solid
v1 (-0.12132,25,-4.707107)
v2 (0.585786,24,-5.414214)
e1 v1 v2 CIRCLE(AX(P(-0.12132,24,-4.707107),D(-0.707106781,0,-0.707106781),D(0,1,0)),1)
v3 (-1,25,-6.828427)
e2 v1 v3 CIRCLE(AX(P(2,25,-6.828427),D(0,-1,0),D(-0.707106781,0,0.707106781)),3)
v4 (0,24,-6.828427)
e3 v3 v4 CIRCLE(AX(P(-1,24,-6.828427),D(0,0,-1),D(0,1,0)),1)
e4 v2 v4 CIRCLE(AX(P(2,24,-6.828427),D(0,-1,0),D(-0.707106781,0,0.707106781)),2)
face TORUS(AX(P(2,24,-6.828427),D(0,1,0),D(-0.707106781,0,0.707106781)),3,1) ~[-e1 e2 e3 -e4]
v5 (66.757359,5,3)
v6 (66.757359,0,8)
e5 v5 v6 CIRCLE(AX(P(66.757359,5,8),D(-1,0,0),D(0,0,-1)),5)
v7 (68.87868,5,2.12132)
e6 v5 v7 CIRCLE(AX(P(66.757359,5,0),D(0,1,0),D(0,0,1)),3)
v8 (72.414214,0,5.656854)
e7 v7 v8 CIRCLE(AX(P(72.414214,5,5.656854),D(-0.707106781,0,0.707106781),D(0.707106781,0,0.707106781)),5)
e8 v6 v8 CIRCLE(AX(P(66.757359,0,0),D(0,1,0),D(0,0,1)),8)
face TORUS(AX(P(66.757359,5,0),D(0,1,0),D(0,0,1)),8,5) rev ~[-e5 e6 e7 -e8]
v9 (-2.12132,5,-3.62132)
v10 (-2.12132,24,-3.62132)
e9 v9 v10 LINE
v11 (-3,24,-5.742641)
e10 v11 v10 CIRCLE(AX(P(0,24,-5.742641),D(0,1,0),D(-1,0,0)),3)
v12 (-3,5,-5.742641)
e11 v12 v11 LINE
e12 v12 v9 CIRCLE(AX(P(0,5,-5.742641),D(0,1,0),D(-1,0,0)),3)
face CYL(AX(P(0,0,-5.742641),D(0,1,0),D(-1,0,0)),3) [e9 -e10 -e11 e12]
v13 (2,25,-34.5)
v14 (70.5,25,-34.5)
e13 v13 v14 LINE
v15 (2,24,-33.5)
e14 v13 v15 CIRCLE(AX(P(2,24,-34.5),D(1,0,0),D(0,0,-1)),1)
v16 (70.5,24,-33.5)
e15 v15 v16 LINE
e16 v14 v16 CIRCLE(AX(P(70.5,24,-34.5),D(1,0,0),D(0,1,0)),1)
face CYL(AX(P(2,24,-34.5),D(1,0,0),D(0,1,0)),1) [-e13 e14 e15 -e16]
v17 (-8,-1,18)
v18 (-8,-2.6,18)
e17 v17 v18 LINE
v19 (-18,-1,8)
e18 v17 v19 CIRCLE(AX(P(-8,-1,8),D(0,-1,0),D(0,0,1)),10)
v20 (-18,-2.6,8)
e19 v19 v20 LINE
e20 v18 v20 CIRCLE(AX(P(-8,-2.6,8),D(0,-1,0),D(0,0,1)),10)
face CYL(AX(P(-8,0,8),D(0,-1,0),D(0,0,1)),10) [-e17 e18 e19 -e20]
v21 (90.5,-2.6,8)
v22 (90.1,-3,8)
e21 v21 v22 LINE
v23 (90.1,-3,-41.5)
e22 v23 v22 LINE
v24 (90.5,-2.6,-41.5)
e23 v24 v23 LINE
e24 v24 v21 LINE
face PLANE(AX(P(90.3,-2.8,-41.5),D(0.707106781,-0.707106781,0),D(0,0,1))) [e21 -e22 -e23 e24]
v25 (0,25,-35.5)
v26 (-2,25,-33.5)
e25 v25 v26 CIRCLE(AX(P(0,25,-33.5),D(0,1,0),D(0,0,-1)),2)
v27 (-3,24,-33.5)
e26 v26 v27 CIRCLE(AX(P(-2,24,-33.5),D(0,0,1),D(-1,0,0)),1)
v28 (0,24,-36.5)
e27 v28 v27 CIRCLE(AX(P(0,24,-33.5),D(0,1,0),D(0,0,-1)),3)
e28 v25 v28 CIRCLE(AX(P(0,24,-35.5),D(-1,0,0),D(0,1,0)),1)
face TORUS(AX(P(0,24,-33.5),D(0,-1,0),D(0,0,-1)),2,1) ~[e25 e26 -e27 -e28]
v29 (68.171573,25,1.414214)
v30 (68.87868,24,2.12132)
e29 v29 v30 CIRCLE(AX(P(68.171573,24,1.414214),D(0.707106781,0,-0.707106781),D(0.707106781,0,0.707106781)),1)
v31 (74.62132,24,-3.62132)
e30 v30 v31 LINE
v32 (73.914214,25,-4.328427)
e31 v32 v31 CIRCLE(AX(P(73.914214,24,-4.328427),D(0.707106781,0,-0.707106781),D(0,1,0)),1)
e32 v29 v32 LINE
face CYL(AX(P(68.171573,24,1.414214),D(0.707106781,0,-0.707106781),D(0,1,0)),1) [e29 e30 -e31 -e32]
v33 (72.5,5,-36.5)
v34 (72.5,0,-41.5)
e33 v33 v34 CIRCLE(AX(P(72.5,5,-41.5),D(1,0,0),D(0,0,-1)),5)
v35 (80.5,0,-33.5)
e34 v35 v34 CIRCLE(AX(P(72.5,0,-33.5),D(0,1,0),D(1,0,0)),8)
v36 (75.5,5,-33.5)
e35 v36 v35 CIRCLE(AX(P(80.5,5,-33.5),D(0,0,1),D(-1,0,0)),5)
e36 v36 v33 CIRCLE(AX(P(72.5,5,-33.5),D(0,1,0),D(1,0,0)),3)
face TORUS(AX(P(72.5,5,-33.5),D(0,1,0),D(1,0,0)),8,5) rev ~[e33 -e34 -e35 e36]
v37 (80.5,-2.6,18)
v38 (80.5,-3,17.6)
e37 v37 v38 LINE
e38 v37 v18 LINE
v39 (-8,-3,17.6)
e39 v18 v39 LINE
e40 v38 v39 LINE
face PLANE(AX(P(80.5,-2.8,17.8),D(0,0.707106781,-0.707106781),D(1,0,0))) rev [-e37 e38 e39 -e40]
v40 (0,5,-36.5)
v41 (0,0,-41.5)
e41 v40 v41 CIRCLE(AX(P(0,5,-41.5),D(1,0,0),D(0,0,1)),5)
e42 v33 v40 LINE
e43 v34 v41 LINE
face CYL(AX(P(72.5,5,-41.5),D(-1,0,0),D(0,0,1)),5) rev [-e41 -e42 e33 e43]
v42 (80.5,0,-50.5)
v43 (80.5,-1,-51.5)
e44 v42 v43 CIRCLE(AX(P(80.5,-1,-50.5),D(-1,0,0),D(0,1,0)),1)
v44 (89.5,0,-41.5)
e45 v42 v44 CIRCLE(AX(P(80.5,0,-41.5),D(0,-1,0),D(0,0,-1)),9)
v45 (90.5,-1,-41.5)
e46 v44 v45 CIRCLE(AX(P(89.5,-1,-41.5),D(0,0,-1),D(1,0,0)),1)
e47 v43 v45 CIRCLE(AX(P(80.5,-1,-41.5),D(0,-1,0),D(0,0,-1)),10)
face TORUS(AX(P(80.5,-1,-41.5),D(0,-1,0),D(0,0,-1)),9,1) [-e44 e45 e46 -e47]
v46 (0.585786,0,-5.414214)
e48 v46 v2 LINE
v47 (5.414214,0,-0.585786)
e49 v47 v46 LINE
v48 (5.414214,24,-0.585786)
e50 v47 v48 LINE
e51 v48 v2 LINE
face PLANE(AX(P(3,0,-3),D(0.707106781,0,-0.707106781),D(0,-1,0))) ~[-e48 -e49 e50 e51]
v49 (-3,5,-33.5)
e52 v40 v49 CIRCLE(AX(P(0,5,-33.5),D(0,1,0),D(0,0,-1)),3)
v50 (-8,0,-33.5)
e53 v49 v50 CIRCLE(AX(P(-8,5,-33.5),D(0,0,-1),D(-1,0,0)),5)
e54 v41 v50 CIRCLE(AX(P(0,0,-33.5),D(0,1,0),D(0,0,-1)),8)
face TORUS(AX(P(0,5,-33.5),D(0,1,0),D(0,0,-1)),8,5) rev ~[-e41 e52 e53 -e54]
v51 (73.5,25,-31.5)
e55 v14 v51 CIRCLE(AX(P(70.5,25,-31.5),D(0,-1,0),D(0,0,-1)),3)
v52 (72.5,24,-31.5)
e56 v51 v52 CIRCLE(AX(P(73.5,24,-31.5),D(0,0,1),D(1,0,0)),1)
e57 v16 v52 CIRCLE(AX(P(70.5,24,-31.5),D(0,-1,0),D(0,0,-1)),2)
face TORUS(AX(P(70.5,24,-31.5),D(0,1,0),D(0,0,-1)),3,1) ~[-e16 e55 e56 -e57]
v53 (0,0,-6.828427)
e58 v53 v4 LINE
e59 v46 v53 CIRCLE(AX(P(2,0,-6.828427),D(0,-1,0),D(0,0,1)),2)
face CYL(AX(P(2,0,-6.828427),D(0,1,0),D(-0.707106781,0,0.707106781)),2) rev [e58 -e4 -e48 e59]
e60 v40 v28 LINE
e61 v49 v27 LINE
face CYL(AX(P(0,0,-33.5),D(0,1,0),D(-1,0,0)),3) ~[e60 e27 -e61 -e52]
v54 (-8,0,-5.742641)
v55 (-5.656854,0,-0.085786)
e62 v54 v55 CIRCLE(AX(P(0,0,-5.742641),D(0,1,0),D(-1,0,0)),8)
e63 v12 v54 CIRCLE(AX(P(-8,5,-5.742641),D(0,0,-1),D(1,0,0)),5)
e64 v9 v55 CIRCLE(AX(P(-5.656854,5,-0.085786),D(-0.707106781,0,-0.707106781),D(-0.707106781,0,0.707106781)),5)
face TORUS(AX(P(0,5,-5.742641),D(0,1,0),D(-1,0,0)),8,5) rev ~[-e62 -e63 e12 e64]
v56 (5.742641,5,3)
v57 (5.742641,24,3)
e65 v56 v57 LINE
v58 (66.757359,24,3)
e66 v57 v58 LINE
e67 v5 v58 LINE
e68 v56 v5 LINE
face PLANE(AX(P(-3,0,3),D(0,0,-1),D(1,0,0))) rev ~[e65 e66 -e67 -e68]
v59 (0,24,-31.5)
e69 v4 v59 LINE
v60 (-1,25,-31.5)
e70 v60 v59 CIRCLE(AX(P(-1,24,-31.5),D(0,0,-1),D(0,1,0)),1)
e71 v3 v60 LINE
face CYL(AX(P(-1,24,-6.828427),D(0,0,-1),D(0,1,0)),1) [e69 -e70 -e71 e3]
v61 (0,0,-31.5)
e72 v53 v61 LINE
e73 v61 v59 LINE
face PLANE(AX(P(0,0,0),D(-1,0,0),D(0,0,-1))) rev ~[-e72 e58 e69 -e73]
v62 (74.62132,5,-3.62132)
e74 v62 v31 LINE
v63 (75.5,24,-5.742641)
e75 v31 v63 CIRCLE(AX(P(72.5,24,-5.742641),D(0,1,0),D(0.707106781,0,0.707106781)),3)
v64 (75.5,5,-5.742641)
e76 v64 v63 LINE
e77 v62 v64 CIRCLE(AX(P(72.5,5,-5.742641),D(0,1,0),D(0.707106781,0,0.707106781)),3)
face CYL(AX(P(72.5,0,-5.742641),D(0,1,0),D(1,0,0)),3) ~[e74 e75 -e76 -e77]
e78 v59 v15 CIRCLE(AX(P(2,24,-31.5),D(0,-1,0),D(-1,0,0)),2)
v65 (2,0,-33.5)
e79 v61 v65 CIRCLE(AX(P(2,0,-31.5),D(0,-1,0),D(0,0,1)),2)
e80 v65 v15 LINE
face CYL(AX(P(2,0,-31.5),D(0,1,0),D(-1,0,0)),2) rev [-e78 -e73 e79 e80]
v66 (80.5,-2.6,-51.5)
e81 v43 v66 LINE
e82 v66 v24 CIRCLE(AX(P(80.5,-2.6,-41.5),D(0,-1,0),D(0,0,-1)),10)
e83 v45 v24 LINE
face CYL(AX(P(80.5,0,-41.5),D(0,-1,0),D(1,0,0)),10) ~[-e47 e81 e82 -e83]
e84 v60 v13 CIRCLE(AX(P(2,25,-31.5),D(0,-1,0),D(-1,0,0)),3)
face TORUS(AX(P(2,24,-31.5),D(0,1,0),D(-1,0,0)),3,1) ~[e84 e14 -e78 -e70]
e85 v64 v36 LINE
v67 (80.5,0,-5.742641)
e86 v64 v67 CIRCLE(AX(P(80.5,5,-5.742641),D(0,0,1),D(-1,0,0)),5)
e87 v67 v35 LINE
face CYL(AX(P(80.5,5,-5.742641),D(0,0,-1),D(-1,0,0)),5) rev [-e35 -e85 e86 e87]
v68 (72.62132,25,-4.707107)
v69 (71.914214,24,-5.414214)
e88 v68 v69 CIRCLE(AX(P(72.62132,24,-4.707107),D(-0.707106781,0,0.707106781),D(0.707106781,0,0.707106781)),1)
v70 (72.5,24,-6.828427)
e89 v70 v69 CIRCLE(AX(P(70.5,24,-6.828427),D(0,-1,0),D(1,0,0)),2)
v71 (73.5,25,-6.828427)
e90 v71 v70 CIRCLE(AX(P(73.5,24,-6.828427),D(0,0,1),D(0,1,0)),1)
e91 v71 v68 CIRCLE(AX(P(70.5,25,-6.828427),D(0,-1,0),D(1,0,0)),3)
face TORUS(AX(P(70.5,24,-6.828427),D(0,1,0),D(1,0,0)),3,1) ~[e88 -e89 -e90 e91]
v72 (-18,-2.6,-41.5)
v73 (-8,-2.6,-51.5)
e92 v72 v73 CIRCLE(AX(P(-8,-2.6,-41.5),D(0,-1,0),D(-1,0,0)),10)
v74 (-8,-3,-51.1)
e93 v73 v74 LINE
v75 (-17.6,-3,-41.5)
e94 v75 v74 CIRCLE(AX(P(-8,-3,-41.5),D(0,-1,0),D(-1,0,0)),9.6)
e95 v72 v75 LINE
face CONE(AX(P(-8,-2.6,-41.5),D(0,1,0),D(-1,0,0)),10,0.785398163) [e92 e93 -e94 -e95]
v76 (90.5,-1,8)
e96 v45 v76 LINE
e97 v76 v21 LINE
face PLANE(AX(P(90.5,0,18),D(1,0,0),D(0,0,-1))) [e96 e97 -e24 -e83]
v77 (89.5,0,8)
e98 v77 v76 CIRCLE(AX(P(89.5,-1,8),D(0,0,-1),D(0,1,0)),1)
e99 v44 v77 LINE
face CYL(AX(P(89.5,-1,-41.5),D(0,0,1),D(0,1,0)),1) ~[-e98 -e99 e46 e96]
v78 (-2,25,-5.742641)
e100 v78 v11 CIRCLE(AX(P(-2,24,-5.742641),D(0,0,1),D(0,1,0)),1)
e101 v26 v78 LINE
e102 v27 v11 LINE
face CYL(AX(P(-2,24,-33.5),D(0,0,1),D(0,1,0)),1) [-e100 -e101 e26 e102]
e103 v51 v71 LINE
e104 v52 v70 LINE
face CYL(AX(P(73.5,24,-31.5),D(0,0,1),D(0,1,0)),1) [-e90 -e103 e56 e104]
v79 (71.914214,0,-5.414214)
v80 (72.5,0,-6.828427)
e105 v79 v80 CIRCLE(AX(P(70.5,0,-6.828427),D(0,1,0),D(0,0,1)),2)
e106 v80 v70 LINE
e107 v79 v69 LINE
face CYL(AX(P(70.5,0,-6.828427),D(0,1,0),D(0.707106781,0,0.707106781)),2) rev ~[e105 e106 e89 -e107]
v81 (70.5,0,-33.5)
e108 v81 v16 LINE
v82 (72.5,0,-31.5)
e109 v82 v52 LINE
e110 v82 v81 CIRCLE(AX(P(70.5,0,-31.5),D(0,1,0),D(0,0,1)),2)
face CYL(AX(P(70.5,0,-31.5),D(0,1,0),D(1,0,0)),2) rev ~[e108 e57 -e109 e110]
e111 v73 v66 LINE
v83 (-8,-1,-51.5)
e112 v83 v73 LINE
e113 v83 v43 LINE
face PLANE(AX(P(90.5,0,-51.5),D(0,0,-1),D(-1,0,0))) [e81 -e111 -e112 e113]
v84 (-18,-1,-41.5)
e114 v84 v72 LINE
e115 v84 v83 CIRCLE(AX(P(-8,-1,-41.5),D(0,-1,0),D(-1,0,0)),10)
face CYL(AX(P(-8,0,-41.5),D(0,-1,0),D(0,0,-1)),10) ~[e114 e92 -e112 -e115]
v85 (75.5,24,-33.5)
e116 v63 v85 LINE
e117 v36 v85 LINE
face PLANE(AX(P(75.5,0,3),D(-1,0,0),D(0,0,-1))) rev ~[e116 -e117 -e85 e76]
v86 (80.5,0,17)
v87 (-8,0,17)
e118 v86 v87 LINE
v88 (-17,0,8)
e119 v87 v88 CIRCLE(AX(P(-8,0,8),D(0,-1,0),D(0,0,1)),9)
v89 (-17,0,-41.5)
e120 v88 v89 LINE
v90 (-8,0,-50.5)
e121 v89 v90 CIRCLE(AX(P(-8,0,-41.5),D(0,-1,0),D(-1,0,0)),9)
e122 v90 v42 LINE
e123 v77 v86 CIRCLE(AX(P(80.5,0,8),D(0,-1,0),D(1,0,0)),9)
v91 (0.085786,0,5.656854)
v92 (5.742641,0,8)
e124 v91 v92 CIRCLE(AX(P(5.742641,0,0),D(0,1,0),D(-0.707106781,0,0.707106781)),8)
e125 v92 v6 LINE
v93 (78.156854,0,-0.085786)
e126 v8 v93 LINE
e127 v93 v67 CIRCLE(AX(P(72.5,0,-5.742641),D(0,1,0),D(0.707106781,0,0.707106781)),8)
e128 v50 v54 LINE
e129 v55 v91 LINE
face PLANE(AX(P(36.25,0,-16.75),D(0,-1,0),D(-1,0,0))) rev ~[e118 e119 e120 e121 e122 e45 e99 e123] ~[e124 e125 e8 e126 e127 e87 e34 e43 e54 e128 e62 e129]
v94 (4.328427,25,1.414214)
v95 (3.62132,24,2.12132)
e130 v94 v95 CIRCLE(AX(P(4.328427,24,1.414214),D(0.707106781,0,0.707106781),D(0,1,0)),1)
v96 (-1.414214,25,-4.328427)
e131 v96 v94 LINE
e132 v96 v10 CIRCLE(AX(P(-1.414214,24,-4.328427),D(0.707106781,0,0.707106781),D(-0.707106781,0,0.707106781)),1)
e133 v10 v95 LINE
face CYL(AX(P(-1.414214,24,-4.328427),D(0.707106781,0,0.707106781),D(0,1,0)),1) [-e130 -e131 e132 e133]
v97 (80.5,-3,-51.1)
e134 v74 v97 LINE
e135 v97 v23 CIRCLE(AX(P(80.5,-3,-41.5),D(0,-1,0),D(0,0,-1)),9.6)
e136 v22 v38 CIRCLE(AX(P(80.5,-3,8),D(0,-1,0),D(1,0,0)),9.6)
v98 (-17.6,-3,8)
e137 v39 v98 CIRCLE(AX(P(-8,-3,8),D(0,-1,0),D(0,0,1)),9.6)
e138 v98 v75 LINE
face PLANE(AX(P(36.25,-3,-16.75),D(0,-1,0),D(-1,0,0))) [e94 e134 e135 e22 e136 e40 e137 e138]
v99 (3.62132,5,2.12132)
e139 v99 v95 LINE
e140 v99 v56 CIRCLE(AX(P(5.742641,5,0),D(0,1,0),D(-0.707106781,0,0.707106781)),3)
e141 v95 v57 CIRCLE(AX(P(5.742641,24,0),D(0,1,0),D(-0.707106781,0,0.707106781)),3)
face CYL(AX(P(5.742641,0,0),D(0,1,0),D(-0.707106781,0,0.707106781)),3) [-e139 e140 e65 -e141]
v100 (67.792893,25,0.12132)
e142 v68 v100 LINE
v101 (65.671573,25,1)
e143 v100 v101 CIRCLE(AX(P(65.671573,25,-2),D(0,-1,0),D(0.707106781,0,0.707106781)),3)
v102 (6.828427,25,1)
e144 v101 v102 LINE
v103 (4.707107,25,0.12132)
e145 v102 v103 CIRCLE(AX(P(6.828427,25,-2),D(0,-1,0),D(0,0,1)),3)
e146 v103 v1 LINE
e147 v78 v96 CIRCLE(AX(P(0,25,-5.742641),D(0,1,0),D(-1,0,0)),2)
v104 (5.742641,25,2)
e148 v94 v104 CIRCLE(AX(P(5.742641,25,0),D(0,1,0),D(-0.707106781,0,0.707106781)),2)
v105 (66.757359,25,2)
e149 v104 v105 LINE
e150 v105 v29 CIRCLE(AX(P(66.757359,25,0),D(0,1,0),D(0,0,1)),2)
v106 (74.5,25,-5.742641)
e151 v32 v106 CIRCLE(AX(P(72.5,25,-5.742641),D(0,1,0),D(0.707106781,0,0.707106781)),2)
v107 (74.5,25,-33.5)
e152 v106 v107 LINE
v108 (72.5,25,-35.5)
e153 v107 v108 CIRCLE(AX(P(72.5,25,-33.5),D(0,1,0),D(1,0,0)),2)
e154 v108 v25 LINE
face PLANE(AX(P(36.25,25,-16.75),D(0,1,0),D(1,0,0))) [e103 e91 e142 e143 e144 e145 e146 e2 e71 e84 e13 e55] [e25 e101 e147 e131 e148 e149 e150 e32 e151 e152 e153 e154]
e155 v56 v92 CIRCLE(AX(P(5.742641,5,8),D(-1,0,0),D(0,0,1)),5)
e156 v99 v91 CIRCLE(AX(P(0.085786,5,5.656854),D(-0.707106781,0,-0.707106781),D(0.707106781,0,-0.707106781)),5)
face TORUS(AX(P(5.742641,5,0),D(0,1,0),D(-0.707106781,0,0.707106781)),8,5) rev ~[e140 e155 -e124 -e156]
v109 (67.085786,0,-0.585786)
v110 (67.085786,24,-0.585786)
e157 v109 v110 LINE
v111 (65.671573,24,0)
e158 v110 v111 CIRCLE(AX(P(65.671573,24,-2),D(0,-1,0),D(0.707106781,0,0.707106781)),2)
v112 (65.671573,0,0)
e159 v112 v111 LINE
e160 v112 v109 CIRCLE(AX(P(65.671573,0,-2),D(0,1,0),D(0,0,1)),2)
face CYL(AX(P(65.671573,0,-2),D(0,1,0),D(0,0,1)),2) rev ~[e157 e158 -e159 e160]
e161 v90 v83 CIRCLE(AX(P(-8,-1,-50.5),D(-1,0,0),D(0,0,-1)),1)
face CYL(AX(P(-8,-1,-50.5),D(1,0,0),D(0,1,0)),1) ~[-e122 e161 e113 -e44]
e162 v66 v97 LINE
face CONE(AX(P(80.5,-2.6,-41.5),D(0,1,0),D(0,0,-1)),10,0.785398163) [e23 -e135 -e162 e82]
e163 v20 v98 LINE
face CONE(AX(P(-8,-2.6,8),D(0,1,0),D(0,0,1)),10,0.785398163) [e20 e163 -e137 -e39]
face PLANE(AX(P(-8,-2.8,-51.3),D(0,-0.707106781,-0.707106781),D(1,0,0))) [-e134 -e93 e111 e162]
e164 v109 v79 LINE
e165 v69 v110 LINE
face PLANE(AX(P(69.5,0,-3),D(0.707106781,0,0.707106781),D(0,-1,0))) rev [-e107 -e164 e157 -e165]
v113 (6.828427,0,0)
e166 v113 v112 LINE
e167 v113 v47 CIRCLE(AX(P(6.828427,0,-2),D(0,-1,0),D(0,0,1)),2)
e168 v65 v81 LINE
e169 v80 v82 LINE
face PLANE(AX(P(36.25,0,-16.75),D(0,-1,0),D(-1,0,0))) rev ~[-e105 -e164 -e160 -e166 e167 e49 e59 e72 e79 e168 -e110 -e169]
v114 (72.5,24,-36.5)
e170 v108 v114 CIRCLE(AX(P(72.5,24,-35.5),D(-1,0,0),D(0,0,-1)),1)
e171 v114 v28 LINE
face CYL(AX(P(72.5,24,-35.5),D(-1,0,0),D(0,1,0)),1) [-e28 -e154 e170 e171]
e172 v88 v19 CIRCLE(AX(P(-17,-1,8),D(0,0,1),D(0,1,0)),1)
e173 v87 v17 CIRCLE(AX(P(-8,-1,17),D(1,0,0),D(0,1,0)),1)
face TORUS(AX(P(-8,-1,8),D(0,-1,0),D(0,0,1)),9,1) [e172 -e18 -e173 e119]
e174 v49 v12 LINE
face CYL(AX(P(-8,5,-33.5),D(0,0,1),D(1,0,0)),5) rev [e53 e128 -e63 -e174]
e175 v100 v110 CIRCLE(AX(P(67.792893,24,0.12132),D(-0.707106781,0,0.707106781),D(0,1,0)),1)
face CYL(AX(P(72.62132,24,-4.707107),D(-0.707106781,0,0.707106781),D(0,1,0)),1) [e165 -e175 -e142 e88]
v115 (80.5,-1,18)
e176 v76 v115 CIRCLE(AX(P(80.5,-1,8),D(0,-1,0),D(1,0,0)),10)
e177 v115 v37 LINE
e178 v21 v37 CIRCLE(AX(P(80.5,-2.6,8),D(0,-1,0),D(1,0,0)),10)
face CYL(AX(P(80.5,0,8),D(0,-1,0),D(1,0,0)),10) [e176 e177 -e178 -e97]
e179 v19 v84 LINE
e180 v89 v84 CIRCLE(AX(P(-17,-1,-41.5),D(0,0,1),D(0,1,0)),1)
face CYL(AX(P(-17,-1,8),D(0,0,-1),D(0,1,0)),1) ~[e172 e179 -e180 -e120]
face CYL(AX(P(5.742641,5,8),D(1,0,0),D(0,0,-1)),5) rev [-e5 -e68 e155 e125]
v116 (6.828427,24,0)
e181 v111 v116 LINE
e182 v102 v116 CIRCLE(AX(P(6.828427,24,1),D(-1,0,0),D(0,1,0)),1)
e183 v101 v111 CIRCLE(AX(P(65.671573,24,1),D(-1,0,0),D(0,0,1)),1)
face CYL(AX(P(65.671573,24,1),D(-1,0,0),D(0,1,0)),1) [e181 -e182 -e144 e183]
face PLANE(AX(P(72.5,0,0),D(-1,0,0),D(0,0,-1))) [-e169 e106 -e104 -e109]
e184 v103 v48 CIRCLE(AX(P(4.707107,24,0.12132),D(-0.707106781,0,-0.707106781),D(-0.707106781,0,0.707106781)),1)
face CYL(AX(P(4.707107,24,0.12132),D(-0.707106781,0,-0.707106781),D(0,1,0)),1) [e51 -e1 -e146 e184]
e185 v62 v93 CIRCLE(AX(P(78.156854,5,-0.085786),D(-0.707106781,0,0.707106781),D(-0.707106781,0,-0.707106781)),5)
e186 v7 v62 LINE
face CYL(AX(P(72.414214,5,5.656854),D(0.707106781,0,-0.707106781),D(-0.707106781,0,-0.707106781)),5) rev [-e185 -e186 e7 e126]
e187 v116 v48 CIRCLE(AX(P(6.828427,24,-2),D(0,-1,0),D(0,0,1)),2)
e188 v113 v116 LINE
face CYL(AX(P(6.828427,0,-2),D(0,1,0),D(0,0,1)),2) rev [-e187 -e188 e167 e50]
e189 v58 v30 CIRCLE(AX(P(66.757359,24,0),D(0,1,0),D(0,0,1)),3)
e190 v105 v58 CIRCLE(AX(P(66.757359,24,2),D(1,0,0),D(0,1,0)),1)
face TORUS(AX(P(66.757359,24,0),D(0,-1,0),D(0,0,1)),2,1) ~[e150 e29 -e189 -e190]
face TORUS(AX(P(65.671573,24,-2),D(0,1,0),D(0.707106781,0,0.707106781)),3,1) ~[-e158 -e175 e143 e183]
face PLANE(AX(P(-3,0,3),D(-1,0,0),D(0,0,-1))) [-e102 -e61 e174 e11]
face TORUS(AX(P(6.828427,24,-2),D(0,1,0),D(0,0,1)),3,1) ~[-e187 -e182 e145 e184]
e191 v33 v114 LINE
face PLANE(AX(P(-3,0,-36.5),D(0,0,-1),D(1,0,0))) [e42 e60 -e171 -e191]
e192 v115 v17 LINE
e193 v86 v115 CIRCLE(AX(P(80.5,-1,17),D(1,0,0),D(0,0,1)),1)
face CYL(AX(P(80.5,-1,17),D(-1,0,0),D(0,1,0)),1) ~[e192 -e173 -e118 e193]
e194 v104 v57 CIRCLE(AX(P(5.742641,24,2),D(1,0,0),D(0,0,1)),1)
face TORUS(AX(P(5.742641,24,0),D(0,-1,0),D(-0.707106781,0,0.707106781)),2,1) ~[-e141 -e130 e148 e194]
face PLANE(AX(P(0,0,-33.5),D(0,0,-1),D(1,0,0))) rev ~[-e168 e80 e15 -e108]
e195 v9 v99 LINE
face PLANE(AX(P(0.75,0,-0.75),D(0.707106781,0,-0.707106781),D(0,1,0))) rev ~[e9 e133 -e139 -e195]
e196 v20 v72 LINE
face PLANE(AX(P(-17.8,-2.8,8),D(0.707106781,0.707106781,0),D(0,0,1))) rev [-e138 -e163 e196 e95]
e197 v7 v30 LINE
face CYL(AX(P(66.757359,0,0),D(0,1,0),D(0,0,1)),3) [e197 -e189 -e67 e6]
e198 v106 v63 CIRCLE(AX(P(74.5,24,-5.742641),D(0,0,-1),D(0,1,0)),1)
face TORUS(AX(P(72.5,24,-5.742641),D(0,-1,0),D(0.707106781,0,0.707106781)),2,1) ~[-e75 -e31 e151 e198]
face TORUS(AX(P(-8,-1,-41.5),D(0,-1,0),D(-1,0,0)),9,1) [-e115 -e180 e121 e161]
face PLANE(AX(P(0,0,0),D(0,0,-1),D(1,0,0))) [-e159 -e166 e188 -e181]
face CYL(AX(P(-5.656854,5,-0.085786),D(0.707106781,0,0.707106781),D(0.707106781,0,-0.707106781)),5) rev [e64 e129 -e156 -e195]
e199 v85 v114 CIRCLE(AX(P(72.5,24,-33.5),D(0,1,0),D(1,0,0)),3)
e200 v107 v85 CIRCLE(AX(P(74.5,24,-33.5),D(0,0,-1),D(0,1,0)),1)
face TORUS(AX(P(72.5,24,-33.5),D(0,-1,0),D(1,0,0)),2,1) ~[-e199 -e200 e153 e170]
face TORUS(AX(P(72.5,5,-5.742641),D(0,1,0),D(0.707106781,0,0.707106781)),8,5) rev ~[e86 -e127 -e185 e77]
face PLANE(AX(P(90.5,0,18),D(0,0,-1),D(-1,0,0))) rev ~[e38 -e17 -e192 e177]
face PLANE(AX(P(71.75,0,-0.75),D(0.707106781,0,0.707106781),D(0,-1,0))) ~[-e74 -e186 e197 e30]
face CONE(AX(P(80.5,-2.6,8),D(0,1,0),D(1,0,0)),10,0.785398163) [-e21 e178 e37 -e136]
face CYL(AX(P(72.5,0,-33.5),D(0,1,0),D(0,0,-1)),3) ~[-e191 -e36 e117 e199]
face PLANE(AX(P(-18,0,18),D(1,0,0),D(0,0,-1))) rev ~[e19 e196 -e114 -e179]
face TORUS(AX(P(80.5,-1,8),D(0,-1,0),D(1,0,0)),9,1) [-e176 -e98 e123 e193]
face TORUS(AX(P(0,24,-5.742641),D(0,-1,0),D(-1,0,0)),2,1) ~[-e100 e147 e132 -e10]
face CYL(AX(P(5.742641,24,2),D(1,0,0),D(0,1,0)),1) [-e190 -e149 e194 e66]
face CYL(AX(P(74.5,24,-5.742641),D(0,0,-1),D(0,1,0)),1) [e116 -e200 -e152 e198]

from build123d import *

# Parameters (mm, degrees)
SKETCH_1_W      = 78.5
SKETCH_1_H      = 39.5
SKETCH_1_W_2    = 72.5
SKETCH_1_H_2    = 33.5
EXTRUDE_1_DEPTH = 25
SKETCH_2_W      = 108.5
SKETCH_2_H      = 69.5
EXTRUDE_2_DEPTH = 3
FILLET_1_R      = 10
CHAMFER_1_SIZE  = 6
CHAMFER_2_SIZE  = 7.5
FILLET_2_R      = 2
FILLET_3_R      = 3
FILLET_4_R      = 5
FILLET_5_R      = 1
FILLET_6_R      = 1
CHAMFER_3_SIZE  = 0.4


with BuildPart() as part:
    # 草图1 → 凸台-拉伸1 (new body)
    with BuildSketch(Plane(origin=(0, 0, 0), x_dir=(1, 0, 0), z_dir=(0, 1, 0))):
        with Locations((36.25, 16.75)):
            Rectangle(SKETCH_1_W, SKETCH_1_H)
        with Locations((36.25, 16.75)):
            Rectangle(SKETCH_1_W_2, SKETCH_1_H_2, mode=Mode.SUBTRACT)
    extrude(amount=EXTRUDE_1_DEPTH)

    # 草图2 → 凸台-拉伸2 (add)
    with BuildSketch(Plane(origin=(0, 0, 0), x_dir=(-1, 0, 0), z_dir=(0, -1, 0))):
        with Locations((-36.25, 16.75)):
            Rectangle(SKETCH_2_W, SKETCH_2_H)
    extrude(amount=EXTRUDE_2_DEPTH)

    # 圆角1
    fillet_1_edges = [part.edges().sort_by_distance(p)[0] for p in [
        (-18, -1.5, -51.5),
        (90.5, -1.5, -51.5),
        (90.5, -1.5, 18),
        (-18, -1.5, 18),
    ]]
    fillet(fillet_1_edges, radius=FILLET_1_R)

    # 倒角1
    chamfer_1_edges = [part.edges().sort_by_distance(p)[0] for p in [
        (0, 12.5, 0),
        (72.5, 12.5, 0),
    ]]
    chamfer(chamfer_1_edges, length=CHAMFER_1_SIZE)

    # 倒角2
    chamfer_2_edges = [part.edges().sort_by_distance(p)[0] for p in [
        (75.5, 12.5, 3),
        (-3, 12.5, 3),
    ]]
    chamfer(chamfer_2_edges, length=CHAMFER_2_SIZE)

    # 圆角2
    fillet_2_edges = [part.edges().sort_by_distance(p)[0] for p in [
        (0, 12.5, -33.5),
        (72.5, 12.5, -33.5),
        (6, 12.5, 0),
        (66.5, 12.5, 0),
        (72.5, 12.5, -6),
        (0, 12.5, -6),
    ]]
    fillet(fillet_2_edges, radius=FILLET_2_R)

    # 圆角3
    fillet_3_edges = [part.edges().sort_by_distance(p)[0] for p in [
        (-3, 12.5, -36.5),
        (75.5, 12.5, -36.5),
        (68, 12.5, 3),
        (4.5, 12.5, 3),
        (-3, 12.5, -4.5),
        (75.5, 12.5, -4.5),
    ]]
    fillet(fillet_3_edges, radius=FILLET_3_R)

    # 圆角4
    fillet_4_edges = [part.edges().sort_by_distance(p)[0] for p in [
        (75.5, 0, -19.621320344),
        (71.75, 0, -0.75),
        (36.25, 0, 3),
        (0.75, 0, -0.75),
        (-3, 0, -19.621320344),
        (36.25, 0, -36.5),
        (75.271638598, 0, -4.59459039),
        (67.90540961, 0, 2.771638598),
        (4.59459039, 0, 2.771638598),
        (-2.771638598, 0, -4.59459039),
        (-2.121320344, 0, -35.621320344),
        (74.621320344, 0, -35.621320344),
    ]]
    fillet(fillet_4_edges, radius=FILLET_4_R)

    # 圆角5
    fillet_5_edges = [part.edges().sort_by_distance(p)[0] for p in [
        (0, 25, -19.164213562),
        (72.5, 25, -19.164213562),
        (69.5, 25, -3),
        (3, 25, -3),
        (36.25, 25, 0),
        (0.585786438, 25, -32.914213562),
        (71.914213562, 25, -32.914213562),
        (72.347759065, 25, -6.06306026),
        (0.152240935, 25, -6.06306026),
        (6.06306026, 25, -0.152240935),
        (66.43693974, 25, -0.152240935),
        (75.5, 25, -19.621320344),
        (71.75, 25, -0.75),
        (-3, 25, -19.621320344),
        (0.75, 25, -0.75),
        (36.25, 25, 3),
        (36.25, 25, -36.5),
        (74.621320344, 25, -35.621320344),
        (-2.121320344, 25, -35.621320344),
        (-2.771638598, 25, -4.59459039),
        (4.59459039, 25, 2.771638598),
        (67.90540961, 25, 2.771638598),
        (75.271638598, 25, -4.59459039),
        (36.25, 25, -33.5),
    ]]
    fillet(fillet_5_edges, radius=FILLET_5_R)

    # 圆角6
    fillet_6_edges = [part.edges().sort_by_distance(p)[0] for p in [
        (-18, 0, -16.75),
        (36.25, 0, -51.5),
        (36.25, 0, 18),
        (90.5, 0, -16.75),
        (87.571067812, 0, 15.071067812),
        (87.571067812, 0, -48.571067812),
        (-15.071067812, 0, -48.571067812),
        (-15.071067812, 0, 15.071067812),
    ]]
    fillet(fillet_6_edges, radius=FILLET_6_R)

    # 倒角3
    chamfer_3_edges = [part.edges().sort_by_distance(p)[0] for p in [
        (-18, -3, -16.75),
        (36.25, -3, 18),
        (36.25, -3, -51.5),
        (90.5, -3, -16.75),
        (87.571067812, -3, 15.071067812),
        (87.571067812, -3, -48.571067812),
        (-15.071067812, -3, -48.571067812),
        (-15.071067812, -3, 15.071067812),
    ]]
    chamfer(chamfer_3_edges, length=CHAMFER_3_SIZE)


solid = part.part
